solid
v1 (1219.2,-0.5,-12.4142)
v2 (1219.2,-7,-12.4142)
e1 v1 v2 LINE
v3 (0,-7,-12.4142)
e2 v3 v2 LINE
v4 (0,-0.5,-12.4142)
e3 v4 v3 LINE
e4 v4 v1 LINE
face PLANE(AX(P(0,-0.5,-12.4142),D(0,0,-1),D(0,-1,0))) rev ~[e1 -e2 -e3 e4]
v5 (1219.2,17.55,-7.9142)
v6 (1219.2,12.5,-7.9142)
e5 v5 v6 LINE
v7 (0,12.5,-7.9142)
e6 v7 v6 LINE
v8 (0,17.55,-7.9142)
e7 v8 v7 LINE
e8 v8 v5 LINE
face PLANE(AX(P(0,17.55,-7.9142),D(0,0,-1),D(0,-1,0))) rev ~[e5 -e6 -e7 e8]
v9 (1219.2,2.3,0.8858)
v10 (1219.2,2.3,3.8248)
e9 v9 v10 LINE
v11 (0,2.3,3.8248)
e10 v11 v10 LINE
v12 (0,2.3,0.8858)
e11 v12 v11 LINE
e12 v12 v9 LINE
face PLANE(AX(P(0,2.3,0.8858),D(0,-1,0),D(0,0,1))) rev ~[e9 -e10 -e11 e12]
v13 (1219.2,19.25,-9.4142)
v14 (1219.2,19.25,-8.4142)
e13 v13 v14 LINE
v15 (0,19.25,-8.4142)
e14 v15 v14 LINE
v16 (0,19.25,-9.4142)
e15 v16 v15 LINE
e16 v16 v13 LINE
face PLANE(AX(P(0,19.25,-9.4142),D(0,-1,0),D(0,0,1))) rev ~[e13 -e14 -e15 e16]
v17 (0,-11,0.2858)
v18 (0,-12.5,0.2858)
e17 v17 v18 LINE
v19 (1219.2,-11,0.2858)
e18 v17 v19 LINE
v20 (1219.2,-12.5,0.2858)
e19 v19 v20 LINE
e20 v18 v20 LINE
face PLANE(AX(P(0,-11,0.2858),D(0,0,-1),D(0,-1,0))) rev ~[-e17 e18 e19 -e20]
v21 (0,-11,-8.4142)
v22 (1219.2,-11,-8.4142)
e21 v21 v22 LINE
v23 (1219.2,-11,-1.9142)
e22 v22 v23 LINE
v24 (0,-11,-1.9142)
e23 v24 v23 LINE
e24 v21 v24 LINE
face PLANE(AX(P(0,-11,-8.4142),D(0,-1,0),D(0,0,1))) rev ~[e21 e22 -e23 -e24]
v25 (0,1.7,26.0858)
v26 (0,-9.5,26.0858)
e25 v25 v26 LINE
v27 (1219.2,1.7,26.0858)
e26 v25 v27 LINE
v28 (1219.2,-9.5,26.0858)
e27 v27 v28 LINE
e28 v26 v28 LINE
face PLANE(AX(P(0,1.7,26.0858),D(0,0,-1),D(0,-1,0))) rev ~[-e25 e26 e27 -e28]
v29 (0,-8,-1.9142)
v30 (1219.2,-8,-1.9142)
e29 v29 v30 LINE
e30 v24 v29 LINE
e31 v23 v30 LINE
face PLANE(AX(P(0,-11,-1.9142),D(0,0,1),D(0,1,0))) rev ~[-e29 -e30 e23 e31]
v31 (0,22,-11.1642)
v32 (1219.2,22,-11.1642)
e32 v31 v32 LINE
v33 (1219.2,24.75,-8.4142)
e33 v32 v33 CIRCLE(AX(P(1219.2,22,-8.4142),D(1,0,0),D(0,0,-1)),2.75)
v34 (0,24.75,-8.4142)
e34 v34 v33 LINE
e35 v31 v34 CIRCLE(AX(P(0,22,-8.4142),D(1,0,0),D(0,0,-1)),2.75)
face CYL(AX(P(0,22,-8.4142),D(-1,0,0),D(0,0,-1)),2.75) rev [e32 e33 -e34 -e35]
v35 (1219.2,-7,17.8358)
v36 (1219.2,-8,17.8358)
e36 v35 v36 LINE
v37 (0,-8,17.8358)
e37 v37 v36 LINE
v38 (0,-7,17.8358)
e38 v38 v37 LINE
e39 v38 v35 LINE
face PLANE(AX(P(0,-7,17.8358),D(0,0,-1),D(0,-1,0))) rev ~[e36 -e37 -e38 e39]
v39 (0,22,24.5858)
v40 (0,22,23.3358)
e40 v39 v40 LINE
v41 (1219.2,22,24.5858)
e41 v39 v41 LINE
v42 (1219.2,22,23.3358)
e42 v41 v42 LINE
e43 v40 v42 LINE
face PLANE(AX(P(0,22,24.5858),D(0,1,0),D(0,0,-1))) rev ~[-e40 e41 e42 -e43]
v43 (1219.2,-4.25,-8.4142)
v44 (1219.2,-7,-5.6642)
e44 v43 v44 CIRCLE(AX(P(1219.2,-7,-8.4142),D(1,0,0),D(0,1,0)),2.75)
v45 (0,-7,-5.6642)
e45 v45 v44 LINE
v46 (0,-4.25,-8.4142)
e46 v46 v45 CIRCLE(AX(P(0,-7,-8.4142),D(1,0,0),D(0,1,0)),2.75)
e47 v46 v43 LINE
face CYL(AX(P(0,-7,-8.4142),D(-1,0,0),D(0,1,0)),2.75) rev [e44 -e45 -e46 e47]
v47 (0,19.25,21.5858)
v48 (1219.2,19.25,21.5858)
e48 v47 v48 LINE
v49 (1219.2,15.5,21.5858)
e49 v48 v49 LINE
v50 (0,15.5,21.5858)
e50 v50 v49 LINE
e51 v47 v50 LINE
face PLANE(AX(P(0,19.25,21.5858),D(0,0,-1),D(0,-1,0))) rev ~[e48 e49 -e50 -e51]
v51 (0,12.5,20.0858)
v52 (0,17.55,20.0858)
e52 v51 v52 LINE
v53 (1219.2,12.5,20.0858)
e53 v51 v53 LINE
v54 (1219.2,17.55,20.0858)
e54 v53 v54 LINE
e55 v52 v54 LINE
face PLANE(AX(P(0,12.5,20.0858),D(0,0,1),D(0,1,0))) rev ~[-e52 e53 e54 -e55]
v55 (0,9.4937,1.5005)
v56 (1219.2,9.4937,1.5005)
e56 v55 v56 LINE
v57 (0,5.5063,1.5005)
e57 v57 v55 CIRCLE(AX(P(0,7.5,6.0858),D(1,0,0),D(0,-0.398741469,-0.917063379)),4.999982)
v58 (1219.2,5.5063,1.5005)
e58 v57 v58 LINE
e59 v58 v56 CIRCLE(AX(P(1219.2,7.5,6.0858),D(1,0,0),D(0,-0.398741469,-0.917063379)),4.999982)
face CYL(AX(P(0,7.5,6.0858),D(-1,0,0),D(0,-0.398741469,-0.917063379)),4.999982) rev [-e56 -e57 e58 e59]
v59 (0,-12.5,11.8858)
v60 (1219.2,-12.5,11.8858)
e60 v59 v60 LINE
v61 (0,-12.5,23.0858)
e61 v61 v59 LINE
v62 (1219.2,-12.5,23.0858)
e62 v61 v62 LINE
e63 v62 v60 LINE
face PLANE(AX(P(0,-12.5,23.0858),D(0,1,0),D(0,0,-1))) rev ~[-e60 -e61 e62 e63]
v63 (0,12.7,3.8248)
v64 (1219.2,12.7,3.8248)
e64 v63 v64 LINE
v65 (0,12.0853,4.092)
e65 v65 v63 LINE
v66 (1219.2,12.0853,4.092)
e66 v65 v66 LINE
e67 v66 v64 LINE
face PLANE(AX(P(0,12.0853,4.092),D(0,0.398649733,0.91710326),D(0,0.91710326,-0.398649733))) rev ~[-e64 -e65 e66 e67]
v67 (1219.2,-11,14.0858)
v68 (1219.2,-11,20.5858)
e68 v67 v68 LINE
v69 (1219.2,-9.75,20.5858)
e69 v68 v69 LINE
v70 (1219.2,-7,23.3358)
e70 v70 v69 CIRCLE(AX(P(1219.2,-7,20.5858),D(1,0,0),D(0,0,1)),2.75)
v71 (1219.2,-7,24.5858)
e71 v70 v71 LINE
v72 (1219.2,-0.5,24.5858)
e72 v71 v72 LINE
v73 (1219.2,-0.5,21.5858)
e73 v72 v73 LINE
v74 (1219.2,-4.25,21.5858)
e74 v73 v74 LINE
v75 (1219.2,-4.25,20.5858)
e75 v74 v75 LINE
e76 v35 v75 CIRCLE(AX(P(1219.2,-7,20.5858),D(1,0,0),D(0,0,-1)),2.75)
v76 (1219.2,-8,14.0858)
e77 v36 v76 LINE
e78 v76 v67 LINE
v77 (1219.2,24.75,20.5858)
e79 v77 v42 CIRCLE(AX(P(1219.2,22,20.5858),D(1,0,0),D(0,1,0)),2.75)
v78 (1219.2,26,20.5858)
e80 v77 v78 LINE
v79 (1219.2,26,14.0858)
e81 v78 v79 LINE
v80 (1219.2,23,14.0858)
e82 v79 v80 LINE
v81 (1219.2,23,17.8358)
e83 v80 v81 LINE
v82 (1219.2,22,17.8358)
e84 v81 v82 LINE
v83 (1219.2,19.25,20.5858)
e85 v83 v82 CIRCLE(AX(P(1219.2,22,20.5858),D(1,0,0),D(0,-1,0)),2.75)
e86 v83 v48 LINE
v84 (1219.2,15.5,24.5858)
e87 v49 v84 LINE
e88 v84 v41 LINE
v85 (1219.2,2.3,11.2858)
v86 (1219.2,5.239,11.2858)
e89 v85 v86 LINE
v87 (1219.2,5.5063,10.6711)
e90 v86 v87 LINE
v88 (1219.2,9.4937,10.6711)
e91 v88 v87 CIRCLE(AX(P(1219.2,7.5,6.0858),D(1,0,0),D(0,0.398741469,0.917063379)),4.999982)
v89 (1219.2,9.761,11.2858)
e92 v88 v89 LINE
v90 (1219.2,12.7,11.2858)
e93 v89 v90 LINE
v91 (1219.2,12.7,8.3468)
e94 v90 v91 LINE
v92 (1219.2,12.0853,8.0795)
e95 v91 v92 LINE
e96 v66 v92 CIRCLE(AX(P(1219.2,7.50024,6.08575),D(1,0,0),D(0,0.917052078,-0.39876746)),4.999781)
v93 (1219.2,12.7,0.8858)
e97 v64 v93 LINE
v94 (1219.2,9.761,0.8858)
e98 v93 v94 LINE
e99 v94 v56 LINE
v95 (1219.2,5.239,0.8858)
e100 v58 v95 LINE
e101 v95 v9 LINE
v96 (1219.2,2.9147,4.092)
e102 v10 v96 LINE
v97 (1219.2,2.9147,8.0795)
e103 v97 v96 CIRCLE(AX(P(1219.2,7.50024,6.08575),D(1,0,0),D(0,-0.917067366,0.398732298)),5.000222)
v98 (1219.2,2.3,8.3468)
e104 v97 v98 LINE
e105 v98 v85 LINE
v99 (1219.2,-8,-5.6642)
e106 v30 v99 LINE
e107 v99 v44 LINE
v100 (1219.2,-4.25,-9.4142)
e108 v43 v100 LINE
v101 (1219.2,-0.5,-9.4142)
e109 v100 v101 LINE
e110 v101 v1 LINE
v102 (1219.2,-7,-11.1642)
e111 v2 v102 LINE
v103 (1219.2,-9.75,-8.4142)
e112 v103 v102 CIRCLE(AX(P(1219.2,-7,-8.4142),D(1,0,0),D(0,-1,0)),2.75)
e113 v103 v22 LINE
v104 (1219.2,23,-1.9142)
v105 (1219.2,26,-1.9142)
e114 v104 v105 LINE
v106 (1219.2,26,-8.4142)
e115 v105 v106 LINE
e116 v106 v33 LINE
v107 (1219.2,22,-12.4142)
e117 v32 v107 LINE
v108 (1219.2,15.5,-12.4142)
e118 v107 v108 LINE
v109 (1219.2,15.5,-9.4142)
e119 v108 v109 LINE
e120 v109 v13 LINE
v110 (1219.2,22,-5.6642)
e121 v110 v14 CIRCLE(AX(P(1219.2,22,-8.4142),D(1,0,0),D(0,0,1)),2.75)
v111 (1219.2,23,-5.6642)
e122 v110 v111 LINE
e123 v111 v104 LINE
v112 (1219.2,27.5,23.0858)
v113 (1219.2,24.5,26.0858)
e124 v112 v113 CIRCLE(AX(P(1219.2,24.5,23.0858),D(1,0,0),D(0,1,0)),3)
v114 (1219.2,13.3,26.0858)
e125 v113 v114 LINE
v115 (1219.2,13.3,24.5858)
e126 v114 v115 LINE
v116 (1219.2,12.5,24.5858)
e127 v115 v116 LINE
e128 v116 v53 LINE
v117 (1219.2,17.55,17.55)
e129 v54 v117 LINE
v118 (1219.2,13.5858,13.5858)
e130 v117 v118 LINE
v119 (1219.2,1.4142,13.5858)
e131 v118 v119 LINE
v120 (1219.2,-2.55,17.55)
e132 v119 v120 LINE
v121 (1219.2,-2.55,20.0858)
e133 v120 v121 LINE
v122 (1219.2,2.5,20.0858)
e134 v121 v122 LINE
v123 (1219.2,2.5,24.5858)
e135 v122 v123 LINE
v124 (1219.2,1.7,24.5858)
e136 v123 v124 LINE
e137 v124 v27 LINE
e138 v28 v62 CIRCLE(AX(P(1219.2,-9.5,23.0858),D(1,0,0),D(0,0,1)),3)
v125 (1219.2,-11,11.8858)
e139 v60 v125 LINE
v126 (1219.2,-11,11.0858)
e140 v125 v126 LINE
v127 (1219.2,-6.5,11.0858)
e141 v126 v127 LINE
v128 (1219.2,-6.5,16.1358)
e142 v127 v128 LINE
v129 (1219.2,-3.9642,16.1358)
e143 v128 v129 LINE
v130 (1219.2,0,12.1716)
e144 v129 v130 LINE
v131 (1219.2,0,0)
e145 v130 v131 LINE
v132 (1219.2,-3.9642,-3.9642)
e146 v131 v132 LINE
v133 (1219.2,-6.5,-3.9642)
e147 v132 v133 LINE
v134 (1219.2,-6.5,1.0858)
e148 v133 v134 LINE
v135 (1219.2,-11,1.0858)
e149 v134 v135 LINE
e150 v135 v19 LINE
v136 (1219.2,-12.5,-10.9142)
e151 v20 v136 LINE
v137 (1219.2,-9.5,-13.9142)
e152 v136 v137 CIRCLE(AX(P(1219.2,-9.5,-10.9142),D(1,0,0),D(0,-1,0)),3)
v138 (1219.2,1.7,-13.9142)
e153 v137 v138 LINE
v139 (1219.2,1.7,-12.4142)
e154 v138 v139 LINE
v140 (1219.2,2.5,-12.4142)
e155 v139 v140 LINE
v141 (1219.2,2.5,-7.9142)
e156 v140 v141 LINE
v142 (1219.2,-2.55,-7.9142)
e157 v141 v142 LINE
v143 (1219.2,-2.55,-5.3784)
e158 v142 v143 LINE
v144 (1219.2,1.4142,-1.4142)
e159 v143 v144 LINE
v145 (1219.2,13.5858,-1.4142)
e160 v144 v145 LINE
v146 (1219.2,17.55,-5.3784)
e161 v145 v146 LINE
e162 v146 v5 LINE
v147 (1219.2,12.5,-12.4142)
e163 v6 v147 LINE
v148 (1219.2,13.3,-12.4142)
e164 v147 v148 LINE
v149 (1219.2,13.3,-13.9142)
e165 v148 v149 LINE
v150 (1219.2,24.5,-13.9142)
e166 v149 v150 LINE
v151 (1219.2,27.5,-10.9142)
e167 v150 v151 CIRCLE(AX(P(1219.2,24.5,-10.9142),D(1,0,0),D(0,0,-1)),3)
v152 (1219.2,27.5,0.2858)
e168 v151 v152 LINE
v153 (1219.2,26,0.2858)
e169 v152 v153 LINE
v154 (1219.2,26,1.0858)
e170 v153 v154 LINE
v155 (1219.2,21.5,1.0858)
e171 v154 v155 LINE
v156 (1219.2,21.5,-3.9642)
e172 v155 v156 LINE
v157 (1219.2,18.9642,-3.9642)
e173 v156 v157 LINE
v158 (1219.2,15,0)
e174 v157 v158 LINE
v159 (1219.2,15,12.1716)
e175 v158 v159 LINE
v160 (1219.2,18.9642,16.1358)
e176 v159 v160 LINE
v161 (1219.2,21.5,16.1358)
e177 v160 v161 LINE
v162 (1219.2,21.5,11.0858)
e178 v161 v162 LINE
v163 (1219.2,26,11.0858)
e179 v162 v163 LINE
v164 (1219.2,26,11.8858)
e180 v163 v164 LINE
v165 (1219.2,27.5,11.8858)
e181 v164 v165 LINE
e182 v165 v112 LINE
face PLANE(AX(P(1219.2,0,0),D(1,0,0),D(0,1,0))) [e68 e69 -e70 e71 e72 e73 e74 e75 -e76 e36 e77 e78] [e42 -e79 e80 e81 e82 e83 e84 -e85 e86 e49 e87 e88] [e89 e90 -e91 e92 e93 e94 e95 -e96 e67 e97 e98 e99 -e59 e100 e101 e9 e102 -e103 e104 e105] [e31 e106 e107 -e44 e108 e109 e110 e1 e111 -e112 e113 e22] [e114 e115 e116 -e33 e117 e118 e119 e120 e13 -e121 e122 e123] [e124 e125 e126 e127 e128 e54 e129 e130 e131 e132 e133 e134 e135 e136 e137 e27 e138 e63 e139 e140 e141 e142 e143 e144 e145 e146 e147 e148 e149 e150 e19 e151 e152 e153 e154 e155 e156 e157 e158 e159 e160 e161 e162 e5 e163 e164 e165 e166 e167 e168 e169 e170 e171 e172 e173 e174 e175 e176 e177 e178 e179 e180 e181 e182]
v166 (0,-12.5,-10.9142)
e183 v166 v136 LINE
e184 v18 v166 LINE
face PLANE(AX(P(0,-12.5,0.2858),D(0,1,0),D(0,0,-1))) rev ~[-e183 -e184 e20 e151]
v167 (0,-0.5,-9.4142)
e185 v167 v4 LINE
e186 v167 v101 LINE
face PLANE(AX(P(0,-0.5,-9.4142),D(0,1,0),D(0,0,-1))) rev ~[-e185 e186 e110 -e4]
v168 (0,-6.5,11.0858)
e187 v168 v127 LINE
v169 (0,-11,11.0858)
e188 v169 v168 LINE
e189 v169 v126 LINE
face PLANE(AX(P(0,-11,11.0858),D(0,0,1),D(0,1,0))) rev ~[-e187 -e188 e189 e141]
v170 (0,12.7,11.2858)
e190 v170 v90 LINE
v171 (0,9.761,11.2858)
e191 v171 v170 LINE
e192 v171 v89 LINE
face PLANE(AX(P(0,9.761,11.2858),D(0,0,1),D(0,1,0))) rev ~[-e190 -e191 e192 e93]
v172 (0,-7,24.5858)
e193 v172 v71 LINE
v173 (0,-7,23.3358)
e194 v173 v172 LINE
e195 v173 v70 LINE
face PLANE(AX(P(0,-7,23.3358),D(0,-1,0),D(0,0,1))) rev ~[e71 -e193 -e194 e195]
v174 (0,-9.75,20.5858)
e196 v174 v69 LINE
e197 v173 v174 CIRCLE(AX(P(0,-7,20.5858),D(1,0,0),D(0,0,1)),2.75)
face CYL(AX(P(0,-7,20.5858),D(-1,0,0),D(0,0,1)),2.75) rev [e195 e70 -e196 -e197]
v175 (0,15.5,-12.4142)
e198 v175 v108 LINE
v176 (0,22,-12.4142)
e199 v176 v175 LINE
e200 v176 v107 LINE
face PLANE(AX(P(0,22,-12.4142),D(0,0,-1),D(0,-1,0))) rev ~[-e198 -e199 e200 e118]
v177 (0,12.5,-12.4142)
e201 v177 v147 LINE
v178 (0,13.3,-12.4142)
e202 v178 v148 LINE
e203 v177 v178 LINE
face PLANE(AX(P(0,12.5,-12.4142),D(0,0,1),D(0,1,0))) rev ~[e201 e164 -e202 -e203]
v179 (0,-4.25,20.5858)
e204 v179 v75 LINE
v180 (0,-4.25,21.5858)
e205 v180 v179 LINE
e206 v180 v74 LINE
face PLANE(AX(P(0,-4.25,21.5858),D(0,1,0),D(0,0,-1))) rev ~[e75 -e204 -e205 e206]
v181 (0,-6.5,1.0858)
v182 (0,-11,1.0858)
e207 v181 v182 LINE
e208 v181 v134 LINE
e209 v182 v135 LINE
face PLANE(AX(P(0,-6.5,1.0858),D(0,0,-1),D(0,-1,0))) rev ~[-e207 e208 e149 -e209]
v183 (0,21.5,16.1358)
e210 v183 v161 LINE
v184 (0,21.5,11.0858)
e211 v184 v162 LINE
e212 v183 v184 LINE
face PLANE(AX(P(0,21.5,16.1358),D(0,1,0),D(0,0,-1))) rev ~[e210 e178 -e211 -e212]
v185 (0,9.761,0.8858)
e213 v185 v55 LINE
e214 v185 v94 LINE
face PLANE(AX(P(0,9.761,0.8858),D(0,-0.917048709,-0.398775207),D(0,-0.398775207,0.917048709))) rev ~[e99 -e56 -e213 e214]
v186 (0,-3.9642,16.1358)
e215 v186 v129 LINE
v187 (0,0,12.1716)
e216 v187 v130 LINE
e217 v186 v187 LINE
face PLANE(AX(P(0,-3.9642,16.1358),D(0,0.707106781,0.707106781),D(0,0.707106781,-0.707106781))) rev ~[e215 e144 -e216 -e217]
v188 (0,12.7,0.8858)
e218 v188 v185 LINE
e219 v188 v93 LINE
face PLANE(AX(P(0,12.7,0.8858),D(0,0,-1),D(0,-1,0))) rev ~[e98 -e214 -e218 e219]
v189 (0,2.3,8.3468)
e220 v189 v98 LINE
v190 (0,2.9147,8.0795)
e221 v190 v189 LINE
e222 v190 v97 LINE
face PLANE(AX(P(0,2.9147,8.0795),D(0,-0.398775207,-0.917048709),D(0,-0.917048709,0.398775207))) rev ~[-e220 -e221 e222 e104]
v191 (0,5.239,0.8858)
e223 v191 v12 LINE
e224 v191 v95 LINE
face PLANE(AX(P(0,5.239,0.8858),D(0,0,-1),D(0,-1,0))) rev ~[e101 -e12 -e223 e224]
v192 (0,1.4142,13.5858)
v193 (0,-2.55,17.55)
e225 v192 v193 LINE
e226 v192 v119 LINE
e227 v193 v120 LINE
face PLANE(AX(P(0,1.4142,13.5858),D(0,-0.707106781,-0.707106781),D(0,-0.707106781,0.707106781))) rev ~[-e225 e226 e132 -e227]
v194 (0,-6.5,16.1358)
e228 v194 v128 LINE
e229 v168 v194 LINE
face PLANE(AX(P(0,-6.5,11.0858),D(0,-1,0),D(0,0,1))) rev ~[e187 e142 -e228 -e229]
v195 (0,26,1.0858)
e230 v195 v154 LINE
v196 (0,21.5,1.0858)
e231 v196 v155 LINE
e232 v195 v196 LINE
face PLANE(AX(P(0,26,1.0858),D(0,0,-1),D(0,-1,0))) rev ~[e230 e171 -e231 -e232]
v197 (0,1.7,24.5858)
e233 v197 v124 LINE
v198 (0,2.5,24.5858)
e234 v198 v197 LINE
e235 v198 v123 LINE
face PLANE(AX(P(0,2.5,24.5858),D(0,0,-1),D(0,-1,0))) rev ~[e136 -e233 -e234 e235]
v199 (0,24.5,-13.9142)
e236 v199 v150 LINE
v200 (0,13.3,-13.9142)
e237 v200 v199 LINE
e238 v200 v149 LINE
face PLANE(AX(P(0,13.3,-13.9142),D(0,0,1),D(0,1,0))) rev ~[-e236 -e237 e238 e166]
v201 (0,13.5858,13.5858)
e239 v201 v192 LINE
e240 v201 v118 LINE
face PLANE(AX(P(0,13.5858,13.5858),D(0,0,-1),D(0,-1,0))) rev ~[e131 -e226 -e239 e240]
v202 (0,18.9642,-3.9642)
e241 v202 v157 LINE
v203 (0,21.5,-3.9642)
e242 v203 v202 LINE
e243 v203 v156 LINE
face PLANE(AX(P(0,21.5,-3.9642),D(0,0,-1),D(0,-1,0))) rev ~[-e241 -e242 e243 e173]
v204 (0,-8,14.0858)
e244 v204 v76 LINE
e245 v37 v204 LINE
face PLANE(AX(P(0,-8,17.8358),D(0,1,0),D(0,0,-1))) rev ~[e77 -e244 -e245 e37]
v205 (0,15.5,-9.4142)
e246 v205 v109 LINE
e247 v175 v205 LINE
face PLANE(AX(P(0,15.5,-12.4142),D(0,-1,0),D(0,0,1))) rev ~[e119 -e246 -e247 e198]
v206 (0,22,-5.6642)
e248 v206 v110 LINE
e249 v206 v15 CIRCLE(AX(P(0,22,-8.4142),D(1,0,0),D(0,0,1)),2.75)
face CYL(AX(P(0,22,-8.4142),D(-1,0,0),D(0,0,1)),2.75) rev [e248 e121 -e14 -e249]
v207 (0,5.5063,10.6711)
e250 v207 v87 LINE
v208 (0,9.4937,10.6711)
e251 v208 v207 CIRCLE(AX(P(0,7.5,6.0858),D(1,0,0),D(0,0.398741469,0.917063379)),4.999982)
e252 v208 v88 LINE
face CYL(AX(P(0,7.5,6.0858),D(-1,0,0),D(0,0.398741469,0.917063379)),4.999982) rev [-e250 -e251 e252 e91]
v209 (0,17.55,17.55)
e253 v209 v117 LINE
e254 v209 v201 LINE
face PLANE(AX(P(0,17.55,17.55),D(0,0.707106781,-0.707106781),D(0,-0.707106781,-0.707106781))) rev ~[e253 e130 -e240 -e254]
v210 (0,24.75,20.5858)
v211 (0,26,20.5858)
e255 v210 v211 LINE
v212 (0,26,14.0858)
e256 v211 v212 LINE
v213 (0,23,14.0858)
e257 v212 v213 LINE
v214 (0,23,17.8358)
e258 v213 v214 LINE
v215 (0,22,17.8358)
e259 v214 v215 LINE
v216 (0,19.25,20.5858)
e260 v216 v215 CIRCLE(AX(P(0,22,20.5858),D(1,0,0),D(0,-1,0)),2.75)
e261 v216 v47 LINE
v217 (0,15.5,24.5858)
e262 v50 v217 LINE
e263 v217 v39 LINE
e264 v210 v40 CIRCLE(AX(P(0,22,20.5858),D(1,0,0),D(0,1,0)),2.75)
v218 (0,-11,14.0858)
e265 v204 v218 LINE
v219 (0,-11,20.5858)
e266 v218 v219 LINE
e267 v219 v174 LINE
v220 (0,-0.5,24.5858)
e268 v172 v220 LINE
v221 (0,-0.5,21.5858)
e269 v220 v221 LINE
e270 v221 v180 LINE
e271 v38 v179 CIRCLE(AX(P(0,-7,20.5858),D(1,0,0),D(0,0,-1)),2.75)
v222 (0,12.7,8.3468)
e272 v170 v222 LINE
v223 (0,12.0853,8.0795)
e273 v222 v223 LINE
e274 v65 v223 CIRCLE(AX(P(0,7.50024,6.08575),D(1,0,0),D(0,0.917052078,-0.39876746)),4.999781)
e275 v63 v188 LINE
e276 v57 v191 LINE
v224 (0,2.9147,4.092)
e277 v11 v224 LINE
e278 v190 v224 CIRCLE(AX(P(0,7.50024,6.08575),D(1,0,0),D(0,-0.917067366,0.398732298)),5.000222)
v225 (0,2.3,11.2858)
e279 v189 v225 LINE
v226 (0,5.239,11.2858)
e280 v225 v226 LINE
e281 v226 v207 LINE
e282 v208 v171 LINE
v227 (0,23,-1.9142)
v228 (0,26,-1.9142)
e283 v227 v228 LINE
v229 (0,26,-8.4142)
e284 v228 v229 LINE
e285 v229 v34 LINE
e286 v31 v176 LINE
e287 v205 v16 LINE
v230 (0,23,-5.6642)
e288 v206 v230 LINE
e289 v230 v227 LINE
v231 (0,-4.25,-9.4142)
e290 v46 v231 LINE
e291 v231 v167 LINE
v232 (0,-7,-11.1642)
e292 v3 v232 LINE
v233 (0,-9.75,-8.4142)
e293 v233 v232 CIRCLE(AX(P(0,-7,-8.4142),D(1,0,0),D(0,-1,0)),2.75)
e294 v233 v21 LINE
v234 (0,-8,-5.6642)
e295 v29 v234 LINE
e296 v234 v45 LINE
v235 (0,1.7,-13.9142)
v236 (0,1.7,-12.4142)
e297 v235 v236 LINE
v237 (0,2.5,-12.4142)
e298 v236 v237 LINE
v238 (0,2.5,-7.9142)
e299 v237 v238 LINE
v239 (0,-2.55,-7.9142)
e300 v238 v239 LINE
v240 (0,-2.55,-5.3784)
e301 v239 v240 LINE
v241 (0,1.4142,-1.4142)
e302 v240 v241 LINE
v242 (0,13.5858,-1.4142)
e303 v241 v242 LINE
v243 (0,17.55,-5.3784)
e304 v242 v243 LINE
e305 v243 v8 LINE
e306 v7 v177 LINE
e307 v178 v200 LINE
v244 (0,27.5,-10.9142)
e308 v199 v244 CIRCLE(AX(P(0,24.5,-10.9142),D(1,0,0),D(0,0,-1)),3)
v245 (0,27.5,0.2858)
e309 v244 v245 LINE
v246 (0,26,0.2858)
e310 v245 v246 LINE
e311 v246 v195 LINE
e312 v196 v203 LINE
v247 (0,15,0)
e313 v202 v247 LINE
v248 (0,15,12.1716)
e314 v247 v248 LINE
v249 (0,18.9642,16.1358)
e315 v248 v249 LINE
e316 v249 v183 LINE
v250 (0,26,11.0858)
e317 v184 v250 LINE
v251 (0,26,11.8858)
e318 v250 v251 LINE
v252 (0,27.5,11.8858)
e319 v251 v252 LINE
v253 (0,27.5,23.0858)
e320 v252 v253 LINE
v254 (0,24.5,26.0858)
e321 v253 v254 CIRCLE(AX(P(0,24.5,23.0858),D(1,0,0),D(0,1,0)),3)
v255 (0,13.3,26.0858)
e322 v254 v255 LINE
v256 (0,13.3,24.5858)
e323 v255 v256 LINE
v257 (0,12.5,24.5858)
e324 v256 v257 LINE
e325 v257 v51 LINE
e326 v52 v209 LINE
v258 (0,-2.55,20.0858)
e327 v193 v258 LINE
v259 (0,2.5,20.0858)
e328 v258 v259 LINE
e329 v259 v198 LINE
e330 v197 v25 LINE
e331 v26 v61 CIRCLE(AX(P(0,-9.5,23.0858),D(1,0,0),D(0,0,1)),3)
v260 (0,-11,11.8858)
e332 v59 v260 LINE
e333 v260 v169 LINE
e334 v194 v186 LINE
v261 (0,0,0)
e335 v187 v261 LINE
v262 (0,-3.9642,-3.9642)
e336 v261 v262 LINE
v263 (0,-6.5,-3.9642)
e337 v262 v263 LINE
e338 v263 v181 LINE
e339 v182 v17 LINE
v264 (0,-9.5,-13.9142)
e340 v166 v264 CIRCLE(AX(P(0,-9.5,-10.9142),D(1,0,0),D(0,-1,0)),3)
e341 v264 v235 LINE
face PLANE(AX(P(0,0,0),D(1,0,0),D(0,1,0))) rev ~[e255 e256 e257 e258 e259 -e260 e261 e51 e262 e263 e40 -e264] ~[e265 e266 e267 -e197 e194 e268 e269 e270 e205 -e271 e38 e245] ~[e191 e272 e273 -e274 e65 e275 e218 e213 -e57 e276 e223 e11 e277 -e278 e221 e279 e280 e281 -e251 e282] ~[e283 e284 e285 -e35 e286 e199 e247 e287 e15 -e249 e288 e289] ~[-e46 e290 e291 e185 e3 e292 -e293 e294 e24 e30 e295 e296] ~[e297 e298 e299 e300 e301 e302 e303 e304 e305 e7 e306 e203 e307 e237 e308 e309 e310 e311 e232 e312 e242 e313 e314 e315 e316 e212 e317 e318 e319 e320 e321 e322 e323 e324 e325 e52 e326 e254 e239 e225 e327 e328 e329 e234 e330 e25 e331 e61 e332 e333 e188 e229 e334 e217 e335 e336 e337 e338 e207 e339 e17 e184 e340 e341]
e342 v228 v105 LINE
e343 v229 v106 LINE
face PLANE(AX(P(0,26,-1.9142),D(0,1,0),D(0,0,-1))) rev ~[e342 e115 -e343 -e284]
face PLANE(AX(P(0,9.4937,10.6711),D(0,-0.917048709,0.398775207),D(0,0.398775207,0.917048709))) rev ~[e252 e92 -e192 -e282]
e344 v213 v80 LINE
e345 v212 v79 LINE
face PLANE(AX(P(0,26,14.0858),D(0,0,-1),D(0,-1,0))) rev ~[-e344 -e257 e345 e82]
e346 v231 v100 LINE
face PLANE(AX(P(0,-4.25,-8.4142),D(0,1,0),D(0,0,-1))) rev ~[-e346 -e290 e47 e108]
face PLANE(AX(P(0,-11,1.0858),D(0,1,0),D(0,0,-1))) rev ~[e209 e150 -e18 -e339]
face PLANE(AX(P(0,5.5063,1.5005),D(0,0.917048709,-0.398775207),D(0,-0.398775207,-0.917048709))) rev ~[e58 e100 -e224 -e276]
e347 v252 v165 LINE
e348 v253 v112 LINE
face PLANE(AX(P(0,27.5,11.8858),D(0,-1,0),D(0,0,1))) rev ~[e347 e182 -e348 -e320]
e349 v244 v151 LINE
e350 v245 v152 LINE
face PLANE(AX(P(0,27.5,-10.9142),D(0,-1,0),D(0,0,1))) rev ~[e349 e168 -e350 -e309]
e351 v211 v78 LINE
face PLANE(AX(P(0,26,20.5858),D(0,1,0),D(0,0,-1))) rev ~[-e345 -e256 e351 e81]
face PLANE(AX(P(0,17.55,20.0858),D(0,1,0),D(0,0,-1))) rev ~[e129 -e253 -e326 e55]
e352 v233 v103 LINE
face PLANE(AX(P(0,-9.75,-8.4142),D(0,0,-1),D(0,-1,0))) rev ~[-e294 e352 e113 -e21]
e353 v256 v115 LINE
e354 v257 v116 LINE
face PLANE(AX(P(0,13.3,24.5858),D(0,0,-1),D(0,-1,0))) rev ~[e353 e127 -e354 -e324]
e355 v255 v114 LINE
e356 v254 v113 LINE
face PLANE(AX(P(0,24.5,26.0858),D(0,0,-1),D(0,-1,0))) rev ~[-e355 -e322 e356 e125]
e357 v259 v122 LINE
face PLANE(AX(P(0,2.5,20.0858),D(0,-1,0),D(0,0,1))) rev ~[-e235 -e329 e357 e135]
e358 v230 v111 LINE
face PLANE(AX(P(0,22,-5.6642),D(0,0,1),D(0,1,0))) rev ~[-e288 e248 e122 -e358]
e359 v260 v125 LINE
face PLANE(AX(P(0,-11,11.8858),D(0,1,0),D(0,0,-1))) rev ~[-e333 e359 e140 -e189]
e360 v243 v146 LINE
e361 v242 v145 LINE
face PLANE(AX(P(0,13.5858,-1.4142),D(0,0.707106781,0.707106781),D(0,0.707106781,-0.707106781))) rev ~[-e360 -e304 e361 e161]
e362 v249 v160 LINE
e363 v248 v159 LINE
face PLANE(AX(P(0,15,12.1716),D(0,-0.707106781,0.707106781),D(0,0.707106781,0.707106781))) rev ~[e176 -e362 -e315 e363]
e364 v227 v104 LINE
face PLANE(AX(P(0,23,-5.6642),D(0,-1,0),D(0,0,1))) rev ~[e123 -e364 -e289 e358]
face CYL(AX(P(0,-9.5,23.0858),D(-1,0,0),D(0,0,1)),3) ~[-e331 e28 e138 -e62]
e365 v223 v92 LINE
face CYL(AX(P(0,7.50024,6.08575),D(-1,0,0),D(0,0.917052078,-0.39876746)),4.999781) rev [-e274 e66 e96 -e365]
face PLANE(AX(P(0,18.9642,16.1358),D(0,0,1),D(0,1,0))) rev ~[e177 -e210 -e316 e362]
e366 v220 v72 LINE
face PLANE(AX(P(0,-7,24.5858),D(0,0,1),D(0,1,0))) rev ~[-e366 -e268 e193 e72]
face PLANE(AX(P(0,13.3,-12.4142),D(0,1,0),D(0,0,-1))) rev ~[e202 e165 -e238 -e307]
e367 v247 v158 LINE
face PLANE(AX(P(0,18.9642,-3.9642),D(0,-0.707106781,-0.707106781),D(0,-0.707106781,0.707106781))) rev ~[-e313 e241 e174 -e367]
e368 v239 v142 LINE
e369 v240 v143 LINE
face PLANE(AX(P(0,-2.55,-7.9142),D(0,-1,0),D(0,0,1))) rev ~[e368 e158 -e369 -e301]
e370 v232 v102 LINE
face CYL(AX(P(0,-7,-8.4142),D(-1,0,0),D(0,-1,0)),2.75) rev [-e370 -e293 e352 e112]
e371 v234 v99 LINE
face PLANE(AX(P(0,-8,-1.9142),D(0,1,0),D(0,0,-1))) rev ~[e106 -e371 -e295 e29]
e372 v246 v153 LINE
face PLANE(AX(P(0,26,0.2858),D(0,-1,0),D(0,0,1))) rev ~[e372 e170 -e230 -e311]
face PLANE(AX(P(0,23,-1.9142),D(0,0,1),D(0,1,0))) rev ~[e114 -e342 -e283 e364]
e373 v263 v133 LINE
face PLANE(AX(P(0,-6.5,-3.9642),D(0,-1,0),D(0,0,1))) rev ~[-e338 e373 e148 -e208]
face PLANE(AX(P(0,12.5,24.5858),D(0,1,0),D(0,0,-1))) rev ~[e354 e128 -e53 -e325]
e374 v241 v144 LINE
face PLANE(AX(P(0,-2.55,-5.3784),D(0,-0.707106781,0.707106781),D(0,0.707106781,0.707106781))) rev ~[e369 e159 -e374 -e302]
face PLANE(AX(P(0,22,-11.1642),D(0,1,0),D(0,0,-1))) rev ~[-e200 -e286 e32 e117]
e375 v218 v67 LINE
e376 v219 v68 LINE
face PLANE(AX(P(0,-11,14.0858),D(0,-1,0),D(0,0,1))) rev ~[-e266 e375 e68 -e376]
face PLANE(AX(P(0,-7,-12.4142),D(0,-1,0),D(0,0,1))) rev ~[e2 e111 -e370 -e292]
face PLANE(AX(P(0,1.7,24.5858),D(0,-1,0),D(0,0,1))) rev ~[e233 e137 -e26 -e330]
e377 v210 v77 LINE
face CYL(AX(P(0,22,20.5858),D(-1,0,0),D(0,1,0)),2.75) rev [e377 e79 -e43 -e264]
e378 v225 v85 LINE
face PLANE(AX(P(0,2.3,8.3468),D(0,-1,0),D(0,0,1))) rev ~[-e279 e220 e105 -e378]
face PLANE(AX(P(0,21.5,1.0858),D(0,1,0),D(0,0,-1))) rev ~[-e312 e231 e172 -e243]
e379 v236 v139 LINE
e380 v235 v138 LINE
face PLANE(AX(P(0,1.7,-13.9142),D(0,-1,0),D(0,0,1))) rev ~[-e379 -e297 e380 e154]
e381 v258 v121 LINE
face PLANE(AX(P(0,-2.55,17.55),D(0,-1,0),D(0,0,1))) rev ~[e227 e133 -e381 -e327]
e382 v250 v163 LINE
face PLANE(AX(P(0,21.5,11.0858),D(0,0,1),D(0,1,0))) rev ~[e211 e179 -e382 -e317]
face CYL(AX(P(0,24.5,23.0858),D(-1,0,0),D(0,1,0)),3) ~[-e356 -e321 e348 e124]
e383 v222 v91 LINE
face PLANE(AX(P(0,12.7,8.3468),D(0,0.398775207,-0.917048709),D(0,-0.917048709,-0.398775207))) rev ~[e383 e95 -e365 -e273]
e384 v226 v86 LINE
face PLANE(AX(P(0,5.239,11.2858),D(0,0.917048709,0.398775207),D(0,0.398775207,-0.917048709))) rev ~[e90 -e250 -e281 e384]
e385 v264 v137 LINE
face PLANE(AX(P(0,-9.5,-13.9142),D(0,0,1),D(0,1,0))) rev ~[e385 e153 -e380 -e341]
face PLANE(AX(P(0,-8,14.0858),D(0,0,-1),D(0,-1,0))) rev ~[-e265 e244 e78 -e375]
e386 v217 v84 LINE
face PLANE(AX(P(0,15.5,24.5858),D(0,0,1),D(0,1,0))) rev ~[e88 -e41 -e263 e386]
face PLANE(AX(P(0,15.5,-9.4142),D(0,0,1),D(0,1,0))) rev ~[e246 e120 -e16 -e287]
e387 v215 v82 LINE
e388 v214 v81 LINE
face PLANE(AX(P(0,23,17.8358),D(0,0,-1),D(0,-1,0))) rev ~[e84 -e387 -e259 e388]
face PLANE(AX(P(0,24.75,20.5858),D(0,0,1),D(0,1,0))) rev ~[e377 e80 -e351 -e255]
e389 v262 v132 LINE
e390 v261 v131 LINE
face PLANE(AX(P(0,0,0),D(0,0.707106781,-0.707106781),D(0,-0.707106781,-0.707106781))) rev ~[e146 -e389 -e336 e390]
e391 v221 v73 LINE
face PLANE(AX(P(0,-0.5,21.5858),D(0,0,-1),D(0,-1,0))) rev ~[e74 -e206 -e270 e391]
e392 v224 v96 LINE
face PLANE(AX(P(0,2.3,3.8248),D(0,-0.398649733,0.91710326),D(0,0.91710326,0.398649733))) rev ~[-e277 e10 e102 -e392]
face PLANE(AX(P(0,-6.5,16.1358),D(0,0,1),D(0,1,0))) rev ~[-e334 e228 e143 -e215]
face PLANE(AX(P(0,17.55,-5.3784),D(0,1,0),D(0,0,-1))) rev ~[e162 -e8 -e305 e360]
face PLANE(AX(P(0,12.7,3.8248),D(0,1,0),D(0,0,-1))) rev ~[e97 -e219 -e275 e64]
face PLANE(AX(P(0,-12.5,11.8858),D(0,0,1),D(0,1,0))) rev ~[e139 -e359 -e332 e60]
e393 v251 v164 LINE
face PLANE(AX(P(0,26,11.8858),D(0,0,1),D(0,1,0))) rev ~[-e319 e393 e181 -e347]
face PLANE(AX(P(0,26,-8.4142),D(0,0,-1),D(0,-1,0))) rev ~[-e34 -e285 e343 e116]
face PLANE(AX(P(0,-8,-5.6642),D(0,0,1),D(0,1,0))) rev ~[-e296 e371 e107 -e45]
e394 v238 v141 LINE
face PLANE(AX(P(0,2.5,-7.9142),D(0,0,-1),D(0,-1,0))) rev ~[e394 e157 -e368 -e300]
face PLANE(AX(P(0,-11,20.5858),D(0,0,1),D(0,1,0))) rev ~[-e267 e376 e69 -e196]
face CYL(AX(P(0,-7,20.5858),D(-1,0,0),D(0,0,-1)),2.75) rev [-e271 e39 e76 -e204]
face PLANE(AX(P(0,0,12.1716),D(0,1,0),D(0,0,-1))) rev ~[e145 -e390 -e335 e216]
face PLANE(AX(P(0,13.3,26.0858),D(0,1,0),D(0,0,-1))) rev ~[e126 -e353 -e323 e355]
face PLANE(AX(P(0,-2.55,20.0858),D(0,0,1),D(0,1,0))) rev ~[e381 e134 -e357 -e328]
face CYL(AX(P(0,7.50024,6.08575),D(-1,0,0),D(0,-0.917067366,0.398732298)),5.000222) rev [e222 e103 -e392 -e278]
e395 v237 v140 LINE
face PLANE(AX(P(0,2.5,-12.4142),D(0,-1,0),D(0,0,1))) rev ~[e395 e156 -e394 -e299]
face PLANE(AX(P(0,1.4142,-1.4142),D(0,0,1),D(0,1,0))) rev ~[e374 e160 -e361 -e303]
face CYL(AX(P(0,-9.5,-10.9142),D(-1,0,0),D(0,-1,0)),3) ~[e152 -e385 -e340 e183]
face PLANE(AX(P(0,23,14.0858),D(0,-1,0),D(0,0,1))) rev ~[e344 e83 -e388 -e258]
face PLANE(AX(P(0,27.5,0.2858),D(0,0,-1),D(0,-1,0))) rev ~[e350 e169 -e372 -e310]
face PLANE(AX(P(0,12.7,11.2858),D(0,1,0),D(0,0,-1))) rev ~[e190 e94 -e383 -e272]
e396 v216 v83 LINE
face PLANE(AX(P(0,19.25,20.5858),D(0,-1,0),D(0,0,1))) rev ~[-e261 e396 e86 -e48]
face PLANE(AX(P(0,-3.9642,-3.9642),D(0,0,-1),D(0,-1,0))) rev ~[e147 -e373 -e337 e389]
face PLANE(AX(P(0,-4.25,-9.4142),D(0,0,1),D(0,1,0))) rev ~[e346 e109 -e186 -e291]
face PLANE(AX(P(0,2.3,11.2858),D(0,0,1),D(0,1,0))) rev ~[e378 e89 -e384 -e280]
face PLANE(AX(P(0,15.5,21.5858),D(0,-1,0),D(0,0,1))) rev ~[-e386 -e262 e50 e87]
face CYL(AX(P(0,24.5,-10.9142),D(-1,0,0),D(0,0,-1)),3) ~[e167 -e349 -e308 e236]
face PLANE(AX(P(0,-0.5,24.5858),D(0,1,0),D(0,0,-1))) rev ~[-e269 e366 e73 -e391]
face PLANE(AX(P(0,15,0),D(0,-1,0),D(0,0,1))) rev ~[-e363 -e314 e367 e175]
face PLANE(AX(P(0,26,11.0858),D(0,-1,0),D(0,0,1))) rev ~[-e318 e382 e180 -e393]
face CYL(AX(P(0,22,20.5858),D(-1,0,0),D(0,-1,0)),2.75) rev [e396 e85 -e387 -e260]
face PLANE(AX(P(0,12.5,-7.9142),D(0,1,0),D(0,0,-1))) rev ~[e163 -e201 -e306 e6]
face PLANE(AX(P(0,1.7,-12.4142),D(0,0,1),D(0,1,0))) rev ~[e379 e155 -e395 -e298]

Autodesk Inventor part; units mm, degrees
ref_plane "YZ Plane" through (0, 0, 0) normal (1, 0, 0) x (0, 1, 0)
ref_plane "XZ Plane" through (0, 0, 0) normal (0, 1, 0) x (-1, 0, 0)
ref_plane "XY Plane" through (0, 0, 0) normal (0, 0, 1) x (1, 0, 0)
sketch "Sketch1" plane through (0, 0, 0) normal (1, 0, 0) x (0, 1, 0)
  line L0 (0, 12.1716) -> (0, 0)
  line L1 (0, 0) -> (-3.9642, -3.9642)
  line L2 (-3.9642, -3.9642) -> (-6.5, -3.9642)
  line L3 (-6.5, -3.9642) -> (-6.5, 1.0858)
  line L4 (-6.5, 1.0858) -> (-11, 1.0858)
  line L5 (-11, 1.0858) -> (-11, 0.2858)
  line L6 (-11, 0.2858) -> (-12.5, 0.2858)
  line L7 (-12.5, 0.2858) -> (-12.5, -10.9142)
  arc A0 (-12.5, -10.9142) -> (-9.5, -13.9142) centre (-9.5, -10.9142) ccw
  line L8 (-9.5, -13.9142) -> (1.7, -13.9142)
  line L9 (1.7, -13.9142) -> (1.7, -12.4142)
  line L10 (1.7, -12.4142) -> (2.5, -12.4142)
  line L11 (2.5, -12.4142) -> (2.5, -7.9142)
  line L12 (2.5, -7.9142) -> (-2.55, -7.9142)
  line L13 (-2.55, -7.9142) -> (-2.55, -5.3784)
  line L14 (-2.55, -5.3784) -> (1.4142, -1.4142)
  line L15 (1.4142, -1.4142) -> (13.5858, -1.4142)
  line L16 (13.5858, -1.4142) -> (17.55, -5.3784)
  line L17 (17.55, -5.3784) -> (17.55, -7.9142)
  line L18 (17.55, -7.9142) -> (12.5, -7.9142)
  line L19 (12.5, -7.9142) -> (12.5, -12.4142)
  line L20 (12.5, -12.4142) -> (13.3, -12.4142)
  line L21 (13.3, -12.4142) -> (13.3, -13.9142)
  line L22 (13.3, -13.9142) -> (24.5, -13.9142)
  arc A1 (24.5, -13.9142) -> (27.5, -10.9142) centre (24.5, -10.9142) ccw
  line L23 (27.5, -10.9142) -> (27.5, 0.2858)
  line L24 (27.5, 0.2858) -> (26, 0.2858)
  line L25 (26, 0.2858) -> (26, 1.0858)
  line L26 (26, 1.0858) -> (21.5, 1.0858)
  line L27 (21.5, 1.0858) -> (21.5, -3.9642)
  line L28 (21.5, -3.9642) -> (18.9642, -3.9642)
  line L29 (18.9642, -3.9642) -> (15, 0)
  line L30 (15, 0) -> (15, 12.1716)
  line L31 (15, 12.1716) -> (18.9642, 16.1358)
  line L32 (18.9642, 16.1358) -> (21.5, 16.1358)
  line L33 (21.5, 16.1358) -> (21.5, 11.0858)
  line L34 (21.5, 11.0858) -> (26, 11.0858)
  line L35 (26, 11.0858) -> (26, 11.8858)
  line L36 (26, 11.8858) -> (27.5, 11.8858)
  line L37 (27.5, 11.8858) -> (27.5, 23.0858)
  arc A2 (27.5, 23.0858) -> (24.5, 26.0858) centre (24.5, 23.0858) ccw
  line L38 (24.5, 26.0858) -> (13.3, 26.0858)
  line L39 (13.3, 26.0858) -> (13.3, 24.5858)
  line L40 (13.3, 24.5858) -> (12.5, 24.5858)
  line L41 (12.5, 24.5858) -> (12.5, 20.0858)
  line L42 (12.5, 20.0858) -> (17.55, 20.0858)
  line L43 (17.55, 20.0858) -> (17.55, 17.55)
  line L44 (17.55, 17.55) -> (13.5858, 13.5858)
  line L45 (13.5858, 13.5858) -> (1.4142, 13.5858)
  line L46 (1.4142, 13.5858) -> (-2.55, 17.55)
  line L47 (-2.55, 17.55) -> (-2.55, 20.0858)
  line L48 (-2.55, 20.0858) -> (2.5, 20.0858)
  line L49 (2.5, 20.0858) -> (2.5, 24.5858)
  line L50 (2.5, 24.5858) -> (1.7, 24.5858)
  line L51 (1.7, 24.5858) -> (1.7, 26.0858)
  line L52 (1.7, 26.0858) -> (-9.5, 26.0858)
  arc A3 (-9.5, 26.0858) -> (-12.5, 23.0858) centre (-9.5, 23.0858) ccw
  line L53 (-12.5, 23.0858) -> (-12.5, 11.8858)
  line L54 (-12.5, 11.8858) -> (-11, 11.8858)
  line L55 (-11, 11.8858) -> (-11, 11.0858)
  line L56 (-11, 11.0858) -> (-6.5, 11.0858)
  line L57 (-6.5, 11.0858) -> (-6.5, 16.1358)
  line L58 (-6.5, 16.1358) -> (-3.9642, 16.1358)
  line L59 (-3.9642, 16.1358) -> (0, 12.1716)
  line L60 (-0.5, 24.5858) -> (-0.5, 21.5858)
  line L61 (-0.5, 21.5858) -> (-4.25, 21.5858)
  line L62 (-4.25, 21.5858) -> (-4.25, 20.5858)
  arc A4 (-7, 17.8358) -> (-4.25, 20.5858) centre (-7, 20.5858) ccw
  line L63 (-7, 17.8358) -> (-8, 17.8358)
  line L64 (-8, 17.8358) -> (-8, 14.0858)
  line L65 (-8, 14.0858) -> (-11, 14.0858)
  line L66 (-11, 14.0858) -> (-11, 20.5858)
  line L67 (-11, 20.5858) -> (-9.75, 20.5858)
  arc A5 (-7, 23.3358) -> (-9.75, 20.5858) centre (-7, 20.5858) ccw
  line L68 (-7, 23.3358) -> (-7, 24.5858)
  line L69 (-7, 24.5858) -> (-0.5, 24.5858)
  line L70 (26, 14.0858) -> (23, 14.0858)
  line L71 (23, 14.0858) -> (23, 17.8358)
  line L72 (23, 17.8358) -> (22, 17.8358)
  arc A6 (19.25, 20.5858) -> (22, 17.8358) centre (22, 20.5858) ccw
  line L73 (19.25, 20.5858) -> (19.25, 21.5858)
  line L74 (19.25, 21.5858) -> (15.5, 21.5858)
  line L75 (15.5, 21.5858) -> (15.5, 24.5858)
  line L76 (15.5, 24.5858) -> (22, 24.5858)
  line L77 (22, 24.5858) -> (22, 23.3358)
  arc A7 (24.75, 20.5858) -> (22, 23.3358) centre (22, 20.5858) ccw
  line L78 (24.75, 20.5858) -> (26, 20.5858)
  line L79 (26, 20.5858) -> (26, 14.0858)
  line L80 (15.5, -12.4142) -> (15.5, -9.4142)
  line L81 (15.5, -9.4142) -> (19.25, -9.4142)
  line L82 (19.25, -9.4142) -> (19.25, -8.4142)
  arc A8 (22, -5.6642) -> (19.25, -8.4142) centre (22, -8.4142) ccw
  line L83 (22, -5.6642) -> (23, -5.6642)
  line L84 (23, -5.6642) -> (23, -1.9142)
  line L85 (23, -1.9142) -> (26, -1.9142)
  line L86 (26, -1.9142) -> (26, -8.4142)
  line L87 (26, -8.4142) -> (24.75, -8.4142)
  arc A9 (22, -11.1642) -> (24.75, -8.4142) centre (22, -8.4142) ccw
  line L88 (22, -11.1642) -> (22, -12.4142)
  line L89 (22, -12.4142) -> (15.5, -12.4142)
  line L90 (9.761, 0.8858) -> (9.4937, 1.5005)
  arc A10 (5.5063, 1.5005) -> (9.4937, 1.5005) centre (7.5, 6.0858) ccw
  line L91 (5.5063, 1.5005) -> (5.239, 0.8858)
  line L92 (5.239, 0.8858) -> (2.3, 0.8858)
  line L93 (2.3, 0.8858) -> (2.3, 3.8248)
  line L94 (2.3, 3.8248) -> (2.9147, 4.092)
  arc A11 (2.9147, 8.0795) -> (2.9147, 4.092) centre (7.5, 6.0858) ccw
  line L95 (2.9147, 8.0795) -> (2.3, 8.3468)
  line L96 (2.3, 8.3468) -> (2.3, 11.2858)
  line L97 (2.3, 11.2858) -> (5.239, 11.2858)
  line L98 (5.239, 11.2858) -> (5.5063, 10.6711)
  arc A12 (9.4937, 10.6711) -> (5.5063, 10.6711) centre (7.5, 6.0858) ccw
  line L99 (9.4937, 10.6711) -> (9.761, 11.2858)
  line L100 (9.761, 11.2858) -> (12.7, 11.2858)
  line L101 (12.7, 11.2858) -> (12.7, 8.3468)
  line L102 (12.7, 8.3468) -> (12.0853, 8.0795)
  arc A13 (12.0853, 4.092) -> (12.0853, 8.0795) centre (7.5, 6.0858) ccw
  line L103 (12.0853, 4.092) -> (12.7, 3.8248)
  line L104 (12.7, 3.8248) -> (12.7, 0.8858)
  line L105 (12.7, 0.8858) -> (9.761, 0.8858)
  line L106 (-11, -1.9142) -> (-8, -1.9142)
  line L107 (-8, -1.9142) -> (-8, -5.6642)
  line L108 (-8, -5.6642) -> (-7, -5.6642)
  arc A14 (-4.25, -8.4142) -> (-7, -5.6642) centre (-7, -8.4142) ccw
  line L109 (-4.25, -8.4142) -> (-4.25, -9.4142)
  line L110 (-4.25, -9.4142) -> (-0.5, -9.4142)
  line L111 (-0.5, -9.4142) -> (-0.5, -12.4142)
  line L112 (-0.5, -12.4142) -> (-7, -12.4142)
  line L113 (-7, -12.4142) -> (-7, -11.1642)
  arc A15 (-9.75, -8.4142) -> (-7, -11.1642) centre (-7, -8.4142) ccw
  line L114 (-9.75, -8.4142) -> (-11, -8.4142)
  line L115 (-11, -8.4142) -> (-11, -1.9142)
extrude "Extrusion1" add sketch "Sketch1" along normal blind 1219.2
properties part number "arm rail" material "Aluminum-6061"
